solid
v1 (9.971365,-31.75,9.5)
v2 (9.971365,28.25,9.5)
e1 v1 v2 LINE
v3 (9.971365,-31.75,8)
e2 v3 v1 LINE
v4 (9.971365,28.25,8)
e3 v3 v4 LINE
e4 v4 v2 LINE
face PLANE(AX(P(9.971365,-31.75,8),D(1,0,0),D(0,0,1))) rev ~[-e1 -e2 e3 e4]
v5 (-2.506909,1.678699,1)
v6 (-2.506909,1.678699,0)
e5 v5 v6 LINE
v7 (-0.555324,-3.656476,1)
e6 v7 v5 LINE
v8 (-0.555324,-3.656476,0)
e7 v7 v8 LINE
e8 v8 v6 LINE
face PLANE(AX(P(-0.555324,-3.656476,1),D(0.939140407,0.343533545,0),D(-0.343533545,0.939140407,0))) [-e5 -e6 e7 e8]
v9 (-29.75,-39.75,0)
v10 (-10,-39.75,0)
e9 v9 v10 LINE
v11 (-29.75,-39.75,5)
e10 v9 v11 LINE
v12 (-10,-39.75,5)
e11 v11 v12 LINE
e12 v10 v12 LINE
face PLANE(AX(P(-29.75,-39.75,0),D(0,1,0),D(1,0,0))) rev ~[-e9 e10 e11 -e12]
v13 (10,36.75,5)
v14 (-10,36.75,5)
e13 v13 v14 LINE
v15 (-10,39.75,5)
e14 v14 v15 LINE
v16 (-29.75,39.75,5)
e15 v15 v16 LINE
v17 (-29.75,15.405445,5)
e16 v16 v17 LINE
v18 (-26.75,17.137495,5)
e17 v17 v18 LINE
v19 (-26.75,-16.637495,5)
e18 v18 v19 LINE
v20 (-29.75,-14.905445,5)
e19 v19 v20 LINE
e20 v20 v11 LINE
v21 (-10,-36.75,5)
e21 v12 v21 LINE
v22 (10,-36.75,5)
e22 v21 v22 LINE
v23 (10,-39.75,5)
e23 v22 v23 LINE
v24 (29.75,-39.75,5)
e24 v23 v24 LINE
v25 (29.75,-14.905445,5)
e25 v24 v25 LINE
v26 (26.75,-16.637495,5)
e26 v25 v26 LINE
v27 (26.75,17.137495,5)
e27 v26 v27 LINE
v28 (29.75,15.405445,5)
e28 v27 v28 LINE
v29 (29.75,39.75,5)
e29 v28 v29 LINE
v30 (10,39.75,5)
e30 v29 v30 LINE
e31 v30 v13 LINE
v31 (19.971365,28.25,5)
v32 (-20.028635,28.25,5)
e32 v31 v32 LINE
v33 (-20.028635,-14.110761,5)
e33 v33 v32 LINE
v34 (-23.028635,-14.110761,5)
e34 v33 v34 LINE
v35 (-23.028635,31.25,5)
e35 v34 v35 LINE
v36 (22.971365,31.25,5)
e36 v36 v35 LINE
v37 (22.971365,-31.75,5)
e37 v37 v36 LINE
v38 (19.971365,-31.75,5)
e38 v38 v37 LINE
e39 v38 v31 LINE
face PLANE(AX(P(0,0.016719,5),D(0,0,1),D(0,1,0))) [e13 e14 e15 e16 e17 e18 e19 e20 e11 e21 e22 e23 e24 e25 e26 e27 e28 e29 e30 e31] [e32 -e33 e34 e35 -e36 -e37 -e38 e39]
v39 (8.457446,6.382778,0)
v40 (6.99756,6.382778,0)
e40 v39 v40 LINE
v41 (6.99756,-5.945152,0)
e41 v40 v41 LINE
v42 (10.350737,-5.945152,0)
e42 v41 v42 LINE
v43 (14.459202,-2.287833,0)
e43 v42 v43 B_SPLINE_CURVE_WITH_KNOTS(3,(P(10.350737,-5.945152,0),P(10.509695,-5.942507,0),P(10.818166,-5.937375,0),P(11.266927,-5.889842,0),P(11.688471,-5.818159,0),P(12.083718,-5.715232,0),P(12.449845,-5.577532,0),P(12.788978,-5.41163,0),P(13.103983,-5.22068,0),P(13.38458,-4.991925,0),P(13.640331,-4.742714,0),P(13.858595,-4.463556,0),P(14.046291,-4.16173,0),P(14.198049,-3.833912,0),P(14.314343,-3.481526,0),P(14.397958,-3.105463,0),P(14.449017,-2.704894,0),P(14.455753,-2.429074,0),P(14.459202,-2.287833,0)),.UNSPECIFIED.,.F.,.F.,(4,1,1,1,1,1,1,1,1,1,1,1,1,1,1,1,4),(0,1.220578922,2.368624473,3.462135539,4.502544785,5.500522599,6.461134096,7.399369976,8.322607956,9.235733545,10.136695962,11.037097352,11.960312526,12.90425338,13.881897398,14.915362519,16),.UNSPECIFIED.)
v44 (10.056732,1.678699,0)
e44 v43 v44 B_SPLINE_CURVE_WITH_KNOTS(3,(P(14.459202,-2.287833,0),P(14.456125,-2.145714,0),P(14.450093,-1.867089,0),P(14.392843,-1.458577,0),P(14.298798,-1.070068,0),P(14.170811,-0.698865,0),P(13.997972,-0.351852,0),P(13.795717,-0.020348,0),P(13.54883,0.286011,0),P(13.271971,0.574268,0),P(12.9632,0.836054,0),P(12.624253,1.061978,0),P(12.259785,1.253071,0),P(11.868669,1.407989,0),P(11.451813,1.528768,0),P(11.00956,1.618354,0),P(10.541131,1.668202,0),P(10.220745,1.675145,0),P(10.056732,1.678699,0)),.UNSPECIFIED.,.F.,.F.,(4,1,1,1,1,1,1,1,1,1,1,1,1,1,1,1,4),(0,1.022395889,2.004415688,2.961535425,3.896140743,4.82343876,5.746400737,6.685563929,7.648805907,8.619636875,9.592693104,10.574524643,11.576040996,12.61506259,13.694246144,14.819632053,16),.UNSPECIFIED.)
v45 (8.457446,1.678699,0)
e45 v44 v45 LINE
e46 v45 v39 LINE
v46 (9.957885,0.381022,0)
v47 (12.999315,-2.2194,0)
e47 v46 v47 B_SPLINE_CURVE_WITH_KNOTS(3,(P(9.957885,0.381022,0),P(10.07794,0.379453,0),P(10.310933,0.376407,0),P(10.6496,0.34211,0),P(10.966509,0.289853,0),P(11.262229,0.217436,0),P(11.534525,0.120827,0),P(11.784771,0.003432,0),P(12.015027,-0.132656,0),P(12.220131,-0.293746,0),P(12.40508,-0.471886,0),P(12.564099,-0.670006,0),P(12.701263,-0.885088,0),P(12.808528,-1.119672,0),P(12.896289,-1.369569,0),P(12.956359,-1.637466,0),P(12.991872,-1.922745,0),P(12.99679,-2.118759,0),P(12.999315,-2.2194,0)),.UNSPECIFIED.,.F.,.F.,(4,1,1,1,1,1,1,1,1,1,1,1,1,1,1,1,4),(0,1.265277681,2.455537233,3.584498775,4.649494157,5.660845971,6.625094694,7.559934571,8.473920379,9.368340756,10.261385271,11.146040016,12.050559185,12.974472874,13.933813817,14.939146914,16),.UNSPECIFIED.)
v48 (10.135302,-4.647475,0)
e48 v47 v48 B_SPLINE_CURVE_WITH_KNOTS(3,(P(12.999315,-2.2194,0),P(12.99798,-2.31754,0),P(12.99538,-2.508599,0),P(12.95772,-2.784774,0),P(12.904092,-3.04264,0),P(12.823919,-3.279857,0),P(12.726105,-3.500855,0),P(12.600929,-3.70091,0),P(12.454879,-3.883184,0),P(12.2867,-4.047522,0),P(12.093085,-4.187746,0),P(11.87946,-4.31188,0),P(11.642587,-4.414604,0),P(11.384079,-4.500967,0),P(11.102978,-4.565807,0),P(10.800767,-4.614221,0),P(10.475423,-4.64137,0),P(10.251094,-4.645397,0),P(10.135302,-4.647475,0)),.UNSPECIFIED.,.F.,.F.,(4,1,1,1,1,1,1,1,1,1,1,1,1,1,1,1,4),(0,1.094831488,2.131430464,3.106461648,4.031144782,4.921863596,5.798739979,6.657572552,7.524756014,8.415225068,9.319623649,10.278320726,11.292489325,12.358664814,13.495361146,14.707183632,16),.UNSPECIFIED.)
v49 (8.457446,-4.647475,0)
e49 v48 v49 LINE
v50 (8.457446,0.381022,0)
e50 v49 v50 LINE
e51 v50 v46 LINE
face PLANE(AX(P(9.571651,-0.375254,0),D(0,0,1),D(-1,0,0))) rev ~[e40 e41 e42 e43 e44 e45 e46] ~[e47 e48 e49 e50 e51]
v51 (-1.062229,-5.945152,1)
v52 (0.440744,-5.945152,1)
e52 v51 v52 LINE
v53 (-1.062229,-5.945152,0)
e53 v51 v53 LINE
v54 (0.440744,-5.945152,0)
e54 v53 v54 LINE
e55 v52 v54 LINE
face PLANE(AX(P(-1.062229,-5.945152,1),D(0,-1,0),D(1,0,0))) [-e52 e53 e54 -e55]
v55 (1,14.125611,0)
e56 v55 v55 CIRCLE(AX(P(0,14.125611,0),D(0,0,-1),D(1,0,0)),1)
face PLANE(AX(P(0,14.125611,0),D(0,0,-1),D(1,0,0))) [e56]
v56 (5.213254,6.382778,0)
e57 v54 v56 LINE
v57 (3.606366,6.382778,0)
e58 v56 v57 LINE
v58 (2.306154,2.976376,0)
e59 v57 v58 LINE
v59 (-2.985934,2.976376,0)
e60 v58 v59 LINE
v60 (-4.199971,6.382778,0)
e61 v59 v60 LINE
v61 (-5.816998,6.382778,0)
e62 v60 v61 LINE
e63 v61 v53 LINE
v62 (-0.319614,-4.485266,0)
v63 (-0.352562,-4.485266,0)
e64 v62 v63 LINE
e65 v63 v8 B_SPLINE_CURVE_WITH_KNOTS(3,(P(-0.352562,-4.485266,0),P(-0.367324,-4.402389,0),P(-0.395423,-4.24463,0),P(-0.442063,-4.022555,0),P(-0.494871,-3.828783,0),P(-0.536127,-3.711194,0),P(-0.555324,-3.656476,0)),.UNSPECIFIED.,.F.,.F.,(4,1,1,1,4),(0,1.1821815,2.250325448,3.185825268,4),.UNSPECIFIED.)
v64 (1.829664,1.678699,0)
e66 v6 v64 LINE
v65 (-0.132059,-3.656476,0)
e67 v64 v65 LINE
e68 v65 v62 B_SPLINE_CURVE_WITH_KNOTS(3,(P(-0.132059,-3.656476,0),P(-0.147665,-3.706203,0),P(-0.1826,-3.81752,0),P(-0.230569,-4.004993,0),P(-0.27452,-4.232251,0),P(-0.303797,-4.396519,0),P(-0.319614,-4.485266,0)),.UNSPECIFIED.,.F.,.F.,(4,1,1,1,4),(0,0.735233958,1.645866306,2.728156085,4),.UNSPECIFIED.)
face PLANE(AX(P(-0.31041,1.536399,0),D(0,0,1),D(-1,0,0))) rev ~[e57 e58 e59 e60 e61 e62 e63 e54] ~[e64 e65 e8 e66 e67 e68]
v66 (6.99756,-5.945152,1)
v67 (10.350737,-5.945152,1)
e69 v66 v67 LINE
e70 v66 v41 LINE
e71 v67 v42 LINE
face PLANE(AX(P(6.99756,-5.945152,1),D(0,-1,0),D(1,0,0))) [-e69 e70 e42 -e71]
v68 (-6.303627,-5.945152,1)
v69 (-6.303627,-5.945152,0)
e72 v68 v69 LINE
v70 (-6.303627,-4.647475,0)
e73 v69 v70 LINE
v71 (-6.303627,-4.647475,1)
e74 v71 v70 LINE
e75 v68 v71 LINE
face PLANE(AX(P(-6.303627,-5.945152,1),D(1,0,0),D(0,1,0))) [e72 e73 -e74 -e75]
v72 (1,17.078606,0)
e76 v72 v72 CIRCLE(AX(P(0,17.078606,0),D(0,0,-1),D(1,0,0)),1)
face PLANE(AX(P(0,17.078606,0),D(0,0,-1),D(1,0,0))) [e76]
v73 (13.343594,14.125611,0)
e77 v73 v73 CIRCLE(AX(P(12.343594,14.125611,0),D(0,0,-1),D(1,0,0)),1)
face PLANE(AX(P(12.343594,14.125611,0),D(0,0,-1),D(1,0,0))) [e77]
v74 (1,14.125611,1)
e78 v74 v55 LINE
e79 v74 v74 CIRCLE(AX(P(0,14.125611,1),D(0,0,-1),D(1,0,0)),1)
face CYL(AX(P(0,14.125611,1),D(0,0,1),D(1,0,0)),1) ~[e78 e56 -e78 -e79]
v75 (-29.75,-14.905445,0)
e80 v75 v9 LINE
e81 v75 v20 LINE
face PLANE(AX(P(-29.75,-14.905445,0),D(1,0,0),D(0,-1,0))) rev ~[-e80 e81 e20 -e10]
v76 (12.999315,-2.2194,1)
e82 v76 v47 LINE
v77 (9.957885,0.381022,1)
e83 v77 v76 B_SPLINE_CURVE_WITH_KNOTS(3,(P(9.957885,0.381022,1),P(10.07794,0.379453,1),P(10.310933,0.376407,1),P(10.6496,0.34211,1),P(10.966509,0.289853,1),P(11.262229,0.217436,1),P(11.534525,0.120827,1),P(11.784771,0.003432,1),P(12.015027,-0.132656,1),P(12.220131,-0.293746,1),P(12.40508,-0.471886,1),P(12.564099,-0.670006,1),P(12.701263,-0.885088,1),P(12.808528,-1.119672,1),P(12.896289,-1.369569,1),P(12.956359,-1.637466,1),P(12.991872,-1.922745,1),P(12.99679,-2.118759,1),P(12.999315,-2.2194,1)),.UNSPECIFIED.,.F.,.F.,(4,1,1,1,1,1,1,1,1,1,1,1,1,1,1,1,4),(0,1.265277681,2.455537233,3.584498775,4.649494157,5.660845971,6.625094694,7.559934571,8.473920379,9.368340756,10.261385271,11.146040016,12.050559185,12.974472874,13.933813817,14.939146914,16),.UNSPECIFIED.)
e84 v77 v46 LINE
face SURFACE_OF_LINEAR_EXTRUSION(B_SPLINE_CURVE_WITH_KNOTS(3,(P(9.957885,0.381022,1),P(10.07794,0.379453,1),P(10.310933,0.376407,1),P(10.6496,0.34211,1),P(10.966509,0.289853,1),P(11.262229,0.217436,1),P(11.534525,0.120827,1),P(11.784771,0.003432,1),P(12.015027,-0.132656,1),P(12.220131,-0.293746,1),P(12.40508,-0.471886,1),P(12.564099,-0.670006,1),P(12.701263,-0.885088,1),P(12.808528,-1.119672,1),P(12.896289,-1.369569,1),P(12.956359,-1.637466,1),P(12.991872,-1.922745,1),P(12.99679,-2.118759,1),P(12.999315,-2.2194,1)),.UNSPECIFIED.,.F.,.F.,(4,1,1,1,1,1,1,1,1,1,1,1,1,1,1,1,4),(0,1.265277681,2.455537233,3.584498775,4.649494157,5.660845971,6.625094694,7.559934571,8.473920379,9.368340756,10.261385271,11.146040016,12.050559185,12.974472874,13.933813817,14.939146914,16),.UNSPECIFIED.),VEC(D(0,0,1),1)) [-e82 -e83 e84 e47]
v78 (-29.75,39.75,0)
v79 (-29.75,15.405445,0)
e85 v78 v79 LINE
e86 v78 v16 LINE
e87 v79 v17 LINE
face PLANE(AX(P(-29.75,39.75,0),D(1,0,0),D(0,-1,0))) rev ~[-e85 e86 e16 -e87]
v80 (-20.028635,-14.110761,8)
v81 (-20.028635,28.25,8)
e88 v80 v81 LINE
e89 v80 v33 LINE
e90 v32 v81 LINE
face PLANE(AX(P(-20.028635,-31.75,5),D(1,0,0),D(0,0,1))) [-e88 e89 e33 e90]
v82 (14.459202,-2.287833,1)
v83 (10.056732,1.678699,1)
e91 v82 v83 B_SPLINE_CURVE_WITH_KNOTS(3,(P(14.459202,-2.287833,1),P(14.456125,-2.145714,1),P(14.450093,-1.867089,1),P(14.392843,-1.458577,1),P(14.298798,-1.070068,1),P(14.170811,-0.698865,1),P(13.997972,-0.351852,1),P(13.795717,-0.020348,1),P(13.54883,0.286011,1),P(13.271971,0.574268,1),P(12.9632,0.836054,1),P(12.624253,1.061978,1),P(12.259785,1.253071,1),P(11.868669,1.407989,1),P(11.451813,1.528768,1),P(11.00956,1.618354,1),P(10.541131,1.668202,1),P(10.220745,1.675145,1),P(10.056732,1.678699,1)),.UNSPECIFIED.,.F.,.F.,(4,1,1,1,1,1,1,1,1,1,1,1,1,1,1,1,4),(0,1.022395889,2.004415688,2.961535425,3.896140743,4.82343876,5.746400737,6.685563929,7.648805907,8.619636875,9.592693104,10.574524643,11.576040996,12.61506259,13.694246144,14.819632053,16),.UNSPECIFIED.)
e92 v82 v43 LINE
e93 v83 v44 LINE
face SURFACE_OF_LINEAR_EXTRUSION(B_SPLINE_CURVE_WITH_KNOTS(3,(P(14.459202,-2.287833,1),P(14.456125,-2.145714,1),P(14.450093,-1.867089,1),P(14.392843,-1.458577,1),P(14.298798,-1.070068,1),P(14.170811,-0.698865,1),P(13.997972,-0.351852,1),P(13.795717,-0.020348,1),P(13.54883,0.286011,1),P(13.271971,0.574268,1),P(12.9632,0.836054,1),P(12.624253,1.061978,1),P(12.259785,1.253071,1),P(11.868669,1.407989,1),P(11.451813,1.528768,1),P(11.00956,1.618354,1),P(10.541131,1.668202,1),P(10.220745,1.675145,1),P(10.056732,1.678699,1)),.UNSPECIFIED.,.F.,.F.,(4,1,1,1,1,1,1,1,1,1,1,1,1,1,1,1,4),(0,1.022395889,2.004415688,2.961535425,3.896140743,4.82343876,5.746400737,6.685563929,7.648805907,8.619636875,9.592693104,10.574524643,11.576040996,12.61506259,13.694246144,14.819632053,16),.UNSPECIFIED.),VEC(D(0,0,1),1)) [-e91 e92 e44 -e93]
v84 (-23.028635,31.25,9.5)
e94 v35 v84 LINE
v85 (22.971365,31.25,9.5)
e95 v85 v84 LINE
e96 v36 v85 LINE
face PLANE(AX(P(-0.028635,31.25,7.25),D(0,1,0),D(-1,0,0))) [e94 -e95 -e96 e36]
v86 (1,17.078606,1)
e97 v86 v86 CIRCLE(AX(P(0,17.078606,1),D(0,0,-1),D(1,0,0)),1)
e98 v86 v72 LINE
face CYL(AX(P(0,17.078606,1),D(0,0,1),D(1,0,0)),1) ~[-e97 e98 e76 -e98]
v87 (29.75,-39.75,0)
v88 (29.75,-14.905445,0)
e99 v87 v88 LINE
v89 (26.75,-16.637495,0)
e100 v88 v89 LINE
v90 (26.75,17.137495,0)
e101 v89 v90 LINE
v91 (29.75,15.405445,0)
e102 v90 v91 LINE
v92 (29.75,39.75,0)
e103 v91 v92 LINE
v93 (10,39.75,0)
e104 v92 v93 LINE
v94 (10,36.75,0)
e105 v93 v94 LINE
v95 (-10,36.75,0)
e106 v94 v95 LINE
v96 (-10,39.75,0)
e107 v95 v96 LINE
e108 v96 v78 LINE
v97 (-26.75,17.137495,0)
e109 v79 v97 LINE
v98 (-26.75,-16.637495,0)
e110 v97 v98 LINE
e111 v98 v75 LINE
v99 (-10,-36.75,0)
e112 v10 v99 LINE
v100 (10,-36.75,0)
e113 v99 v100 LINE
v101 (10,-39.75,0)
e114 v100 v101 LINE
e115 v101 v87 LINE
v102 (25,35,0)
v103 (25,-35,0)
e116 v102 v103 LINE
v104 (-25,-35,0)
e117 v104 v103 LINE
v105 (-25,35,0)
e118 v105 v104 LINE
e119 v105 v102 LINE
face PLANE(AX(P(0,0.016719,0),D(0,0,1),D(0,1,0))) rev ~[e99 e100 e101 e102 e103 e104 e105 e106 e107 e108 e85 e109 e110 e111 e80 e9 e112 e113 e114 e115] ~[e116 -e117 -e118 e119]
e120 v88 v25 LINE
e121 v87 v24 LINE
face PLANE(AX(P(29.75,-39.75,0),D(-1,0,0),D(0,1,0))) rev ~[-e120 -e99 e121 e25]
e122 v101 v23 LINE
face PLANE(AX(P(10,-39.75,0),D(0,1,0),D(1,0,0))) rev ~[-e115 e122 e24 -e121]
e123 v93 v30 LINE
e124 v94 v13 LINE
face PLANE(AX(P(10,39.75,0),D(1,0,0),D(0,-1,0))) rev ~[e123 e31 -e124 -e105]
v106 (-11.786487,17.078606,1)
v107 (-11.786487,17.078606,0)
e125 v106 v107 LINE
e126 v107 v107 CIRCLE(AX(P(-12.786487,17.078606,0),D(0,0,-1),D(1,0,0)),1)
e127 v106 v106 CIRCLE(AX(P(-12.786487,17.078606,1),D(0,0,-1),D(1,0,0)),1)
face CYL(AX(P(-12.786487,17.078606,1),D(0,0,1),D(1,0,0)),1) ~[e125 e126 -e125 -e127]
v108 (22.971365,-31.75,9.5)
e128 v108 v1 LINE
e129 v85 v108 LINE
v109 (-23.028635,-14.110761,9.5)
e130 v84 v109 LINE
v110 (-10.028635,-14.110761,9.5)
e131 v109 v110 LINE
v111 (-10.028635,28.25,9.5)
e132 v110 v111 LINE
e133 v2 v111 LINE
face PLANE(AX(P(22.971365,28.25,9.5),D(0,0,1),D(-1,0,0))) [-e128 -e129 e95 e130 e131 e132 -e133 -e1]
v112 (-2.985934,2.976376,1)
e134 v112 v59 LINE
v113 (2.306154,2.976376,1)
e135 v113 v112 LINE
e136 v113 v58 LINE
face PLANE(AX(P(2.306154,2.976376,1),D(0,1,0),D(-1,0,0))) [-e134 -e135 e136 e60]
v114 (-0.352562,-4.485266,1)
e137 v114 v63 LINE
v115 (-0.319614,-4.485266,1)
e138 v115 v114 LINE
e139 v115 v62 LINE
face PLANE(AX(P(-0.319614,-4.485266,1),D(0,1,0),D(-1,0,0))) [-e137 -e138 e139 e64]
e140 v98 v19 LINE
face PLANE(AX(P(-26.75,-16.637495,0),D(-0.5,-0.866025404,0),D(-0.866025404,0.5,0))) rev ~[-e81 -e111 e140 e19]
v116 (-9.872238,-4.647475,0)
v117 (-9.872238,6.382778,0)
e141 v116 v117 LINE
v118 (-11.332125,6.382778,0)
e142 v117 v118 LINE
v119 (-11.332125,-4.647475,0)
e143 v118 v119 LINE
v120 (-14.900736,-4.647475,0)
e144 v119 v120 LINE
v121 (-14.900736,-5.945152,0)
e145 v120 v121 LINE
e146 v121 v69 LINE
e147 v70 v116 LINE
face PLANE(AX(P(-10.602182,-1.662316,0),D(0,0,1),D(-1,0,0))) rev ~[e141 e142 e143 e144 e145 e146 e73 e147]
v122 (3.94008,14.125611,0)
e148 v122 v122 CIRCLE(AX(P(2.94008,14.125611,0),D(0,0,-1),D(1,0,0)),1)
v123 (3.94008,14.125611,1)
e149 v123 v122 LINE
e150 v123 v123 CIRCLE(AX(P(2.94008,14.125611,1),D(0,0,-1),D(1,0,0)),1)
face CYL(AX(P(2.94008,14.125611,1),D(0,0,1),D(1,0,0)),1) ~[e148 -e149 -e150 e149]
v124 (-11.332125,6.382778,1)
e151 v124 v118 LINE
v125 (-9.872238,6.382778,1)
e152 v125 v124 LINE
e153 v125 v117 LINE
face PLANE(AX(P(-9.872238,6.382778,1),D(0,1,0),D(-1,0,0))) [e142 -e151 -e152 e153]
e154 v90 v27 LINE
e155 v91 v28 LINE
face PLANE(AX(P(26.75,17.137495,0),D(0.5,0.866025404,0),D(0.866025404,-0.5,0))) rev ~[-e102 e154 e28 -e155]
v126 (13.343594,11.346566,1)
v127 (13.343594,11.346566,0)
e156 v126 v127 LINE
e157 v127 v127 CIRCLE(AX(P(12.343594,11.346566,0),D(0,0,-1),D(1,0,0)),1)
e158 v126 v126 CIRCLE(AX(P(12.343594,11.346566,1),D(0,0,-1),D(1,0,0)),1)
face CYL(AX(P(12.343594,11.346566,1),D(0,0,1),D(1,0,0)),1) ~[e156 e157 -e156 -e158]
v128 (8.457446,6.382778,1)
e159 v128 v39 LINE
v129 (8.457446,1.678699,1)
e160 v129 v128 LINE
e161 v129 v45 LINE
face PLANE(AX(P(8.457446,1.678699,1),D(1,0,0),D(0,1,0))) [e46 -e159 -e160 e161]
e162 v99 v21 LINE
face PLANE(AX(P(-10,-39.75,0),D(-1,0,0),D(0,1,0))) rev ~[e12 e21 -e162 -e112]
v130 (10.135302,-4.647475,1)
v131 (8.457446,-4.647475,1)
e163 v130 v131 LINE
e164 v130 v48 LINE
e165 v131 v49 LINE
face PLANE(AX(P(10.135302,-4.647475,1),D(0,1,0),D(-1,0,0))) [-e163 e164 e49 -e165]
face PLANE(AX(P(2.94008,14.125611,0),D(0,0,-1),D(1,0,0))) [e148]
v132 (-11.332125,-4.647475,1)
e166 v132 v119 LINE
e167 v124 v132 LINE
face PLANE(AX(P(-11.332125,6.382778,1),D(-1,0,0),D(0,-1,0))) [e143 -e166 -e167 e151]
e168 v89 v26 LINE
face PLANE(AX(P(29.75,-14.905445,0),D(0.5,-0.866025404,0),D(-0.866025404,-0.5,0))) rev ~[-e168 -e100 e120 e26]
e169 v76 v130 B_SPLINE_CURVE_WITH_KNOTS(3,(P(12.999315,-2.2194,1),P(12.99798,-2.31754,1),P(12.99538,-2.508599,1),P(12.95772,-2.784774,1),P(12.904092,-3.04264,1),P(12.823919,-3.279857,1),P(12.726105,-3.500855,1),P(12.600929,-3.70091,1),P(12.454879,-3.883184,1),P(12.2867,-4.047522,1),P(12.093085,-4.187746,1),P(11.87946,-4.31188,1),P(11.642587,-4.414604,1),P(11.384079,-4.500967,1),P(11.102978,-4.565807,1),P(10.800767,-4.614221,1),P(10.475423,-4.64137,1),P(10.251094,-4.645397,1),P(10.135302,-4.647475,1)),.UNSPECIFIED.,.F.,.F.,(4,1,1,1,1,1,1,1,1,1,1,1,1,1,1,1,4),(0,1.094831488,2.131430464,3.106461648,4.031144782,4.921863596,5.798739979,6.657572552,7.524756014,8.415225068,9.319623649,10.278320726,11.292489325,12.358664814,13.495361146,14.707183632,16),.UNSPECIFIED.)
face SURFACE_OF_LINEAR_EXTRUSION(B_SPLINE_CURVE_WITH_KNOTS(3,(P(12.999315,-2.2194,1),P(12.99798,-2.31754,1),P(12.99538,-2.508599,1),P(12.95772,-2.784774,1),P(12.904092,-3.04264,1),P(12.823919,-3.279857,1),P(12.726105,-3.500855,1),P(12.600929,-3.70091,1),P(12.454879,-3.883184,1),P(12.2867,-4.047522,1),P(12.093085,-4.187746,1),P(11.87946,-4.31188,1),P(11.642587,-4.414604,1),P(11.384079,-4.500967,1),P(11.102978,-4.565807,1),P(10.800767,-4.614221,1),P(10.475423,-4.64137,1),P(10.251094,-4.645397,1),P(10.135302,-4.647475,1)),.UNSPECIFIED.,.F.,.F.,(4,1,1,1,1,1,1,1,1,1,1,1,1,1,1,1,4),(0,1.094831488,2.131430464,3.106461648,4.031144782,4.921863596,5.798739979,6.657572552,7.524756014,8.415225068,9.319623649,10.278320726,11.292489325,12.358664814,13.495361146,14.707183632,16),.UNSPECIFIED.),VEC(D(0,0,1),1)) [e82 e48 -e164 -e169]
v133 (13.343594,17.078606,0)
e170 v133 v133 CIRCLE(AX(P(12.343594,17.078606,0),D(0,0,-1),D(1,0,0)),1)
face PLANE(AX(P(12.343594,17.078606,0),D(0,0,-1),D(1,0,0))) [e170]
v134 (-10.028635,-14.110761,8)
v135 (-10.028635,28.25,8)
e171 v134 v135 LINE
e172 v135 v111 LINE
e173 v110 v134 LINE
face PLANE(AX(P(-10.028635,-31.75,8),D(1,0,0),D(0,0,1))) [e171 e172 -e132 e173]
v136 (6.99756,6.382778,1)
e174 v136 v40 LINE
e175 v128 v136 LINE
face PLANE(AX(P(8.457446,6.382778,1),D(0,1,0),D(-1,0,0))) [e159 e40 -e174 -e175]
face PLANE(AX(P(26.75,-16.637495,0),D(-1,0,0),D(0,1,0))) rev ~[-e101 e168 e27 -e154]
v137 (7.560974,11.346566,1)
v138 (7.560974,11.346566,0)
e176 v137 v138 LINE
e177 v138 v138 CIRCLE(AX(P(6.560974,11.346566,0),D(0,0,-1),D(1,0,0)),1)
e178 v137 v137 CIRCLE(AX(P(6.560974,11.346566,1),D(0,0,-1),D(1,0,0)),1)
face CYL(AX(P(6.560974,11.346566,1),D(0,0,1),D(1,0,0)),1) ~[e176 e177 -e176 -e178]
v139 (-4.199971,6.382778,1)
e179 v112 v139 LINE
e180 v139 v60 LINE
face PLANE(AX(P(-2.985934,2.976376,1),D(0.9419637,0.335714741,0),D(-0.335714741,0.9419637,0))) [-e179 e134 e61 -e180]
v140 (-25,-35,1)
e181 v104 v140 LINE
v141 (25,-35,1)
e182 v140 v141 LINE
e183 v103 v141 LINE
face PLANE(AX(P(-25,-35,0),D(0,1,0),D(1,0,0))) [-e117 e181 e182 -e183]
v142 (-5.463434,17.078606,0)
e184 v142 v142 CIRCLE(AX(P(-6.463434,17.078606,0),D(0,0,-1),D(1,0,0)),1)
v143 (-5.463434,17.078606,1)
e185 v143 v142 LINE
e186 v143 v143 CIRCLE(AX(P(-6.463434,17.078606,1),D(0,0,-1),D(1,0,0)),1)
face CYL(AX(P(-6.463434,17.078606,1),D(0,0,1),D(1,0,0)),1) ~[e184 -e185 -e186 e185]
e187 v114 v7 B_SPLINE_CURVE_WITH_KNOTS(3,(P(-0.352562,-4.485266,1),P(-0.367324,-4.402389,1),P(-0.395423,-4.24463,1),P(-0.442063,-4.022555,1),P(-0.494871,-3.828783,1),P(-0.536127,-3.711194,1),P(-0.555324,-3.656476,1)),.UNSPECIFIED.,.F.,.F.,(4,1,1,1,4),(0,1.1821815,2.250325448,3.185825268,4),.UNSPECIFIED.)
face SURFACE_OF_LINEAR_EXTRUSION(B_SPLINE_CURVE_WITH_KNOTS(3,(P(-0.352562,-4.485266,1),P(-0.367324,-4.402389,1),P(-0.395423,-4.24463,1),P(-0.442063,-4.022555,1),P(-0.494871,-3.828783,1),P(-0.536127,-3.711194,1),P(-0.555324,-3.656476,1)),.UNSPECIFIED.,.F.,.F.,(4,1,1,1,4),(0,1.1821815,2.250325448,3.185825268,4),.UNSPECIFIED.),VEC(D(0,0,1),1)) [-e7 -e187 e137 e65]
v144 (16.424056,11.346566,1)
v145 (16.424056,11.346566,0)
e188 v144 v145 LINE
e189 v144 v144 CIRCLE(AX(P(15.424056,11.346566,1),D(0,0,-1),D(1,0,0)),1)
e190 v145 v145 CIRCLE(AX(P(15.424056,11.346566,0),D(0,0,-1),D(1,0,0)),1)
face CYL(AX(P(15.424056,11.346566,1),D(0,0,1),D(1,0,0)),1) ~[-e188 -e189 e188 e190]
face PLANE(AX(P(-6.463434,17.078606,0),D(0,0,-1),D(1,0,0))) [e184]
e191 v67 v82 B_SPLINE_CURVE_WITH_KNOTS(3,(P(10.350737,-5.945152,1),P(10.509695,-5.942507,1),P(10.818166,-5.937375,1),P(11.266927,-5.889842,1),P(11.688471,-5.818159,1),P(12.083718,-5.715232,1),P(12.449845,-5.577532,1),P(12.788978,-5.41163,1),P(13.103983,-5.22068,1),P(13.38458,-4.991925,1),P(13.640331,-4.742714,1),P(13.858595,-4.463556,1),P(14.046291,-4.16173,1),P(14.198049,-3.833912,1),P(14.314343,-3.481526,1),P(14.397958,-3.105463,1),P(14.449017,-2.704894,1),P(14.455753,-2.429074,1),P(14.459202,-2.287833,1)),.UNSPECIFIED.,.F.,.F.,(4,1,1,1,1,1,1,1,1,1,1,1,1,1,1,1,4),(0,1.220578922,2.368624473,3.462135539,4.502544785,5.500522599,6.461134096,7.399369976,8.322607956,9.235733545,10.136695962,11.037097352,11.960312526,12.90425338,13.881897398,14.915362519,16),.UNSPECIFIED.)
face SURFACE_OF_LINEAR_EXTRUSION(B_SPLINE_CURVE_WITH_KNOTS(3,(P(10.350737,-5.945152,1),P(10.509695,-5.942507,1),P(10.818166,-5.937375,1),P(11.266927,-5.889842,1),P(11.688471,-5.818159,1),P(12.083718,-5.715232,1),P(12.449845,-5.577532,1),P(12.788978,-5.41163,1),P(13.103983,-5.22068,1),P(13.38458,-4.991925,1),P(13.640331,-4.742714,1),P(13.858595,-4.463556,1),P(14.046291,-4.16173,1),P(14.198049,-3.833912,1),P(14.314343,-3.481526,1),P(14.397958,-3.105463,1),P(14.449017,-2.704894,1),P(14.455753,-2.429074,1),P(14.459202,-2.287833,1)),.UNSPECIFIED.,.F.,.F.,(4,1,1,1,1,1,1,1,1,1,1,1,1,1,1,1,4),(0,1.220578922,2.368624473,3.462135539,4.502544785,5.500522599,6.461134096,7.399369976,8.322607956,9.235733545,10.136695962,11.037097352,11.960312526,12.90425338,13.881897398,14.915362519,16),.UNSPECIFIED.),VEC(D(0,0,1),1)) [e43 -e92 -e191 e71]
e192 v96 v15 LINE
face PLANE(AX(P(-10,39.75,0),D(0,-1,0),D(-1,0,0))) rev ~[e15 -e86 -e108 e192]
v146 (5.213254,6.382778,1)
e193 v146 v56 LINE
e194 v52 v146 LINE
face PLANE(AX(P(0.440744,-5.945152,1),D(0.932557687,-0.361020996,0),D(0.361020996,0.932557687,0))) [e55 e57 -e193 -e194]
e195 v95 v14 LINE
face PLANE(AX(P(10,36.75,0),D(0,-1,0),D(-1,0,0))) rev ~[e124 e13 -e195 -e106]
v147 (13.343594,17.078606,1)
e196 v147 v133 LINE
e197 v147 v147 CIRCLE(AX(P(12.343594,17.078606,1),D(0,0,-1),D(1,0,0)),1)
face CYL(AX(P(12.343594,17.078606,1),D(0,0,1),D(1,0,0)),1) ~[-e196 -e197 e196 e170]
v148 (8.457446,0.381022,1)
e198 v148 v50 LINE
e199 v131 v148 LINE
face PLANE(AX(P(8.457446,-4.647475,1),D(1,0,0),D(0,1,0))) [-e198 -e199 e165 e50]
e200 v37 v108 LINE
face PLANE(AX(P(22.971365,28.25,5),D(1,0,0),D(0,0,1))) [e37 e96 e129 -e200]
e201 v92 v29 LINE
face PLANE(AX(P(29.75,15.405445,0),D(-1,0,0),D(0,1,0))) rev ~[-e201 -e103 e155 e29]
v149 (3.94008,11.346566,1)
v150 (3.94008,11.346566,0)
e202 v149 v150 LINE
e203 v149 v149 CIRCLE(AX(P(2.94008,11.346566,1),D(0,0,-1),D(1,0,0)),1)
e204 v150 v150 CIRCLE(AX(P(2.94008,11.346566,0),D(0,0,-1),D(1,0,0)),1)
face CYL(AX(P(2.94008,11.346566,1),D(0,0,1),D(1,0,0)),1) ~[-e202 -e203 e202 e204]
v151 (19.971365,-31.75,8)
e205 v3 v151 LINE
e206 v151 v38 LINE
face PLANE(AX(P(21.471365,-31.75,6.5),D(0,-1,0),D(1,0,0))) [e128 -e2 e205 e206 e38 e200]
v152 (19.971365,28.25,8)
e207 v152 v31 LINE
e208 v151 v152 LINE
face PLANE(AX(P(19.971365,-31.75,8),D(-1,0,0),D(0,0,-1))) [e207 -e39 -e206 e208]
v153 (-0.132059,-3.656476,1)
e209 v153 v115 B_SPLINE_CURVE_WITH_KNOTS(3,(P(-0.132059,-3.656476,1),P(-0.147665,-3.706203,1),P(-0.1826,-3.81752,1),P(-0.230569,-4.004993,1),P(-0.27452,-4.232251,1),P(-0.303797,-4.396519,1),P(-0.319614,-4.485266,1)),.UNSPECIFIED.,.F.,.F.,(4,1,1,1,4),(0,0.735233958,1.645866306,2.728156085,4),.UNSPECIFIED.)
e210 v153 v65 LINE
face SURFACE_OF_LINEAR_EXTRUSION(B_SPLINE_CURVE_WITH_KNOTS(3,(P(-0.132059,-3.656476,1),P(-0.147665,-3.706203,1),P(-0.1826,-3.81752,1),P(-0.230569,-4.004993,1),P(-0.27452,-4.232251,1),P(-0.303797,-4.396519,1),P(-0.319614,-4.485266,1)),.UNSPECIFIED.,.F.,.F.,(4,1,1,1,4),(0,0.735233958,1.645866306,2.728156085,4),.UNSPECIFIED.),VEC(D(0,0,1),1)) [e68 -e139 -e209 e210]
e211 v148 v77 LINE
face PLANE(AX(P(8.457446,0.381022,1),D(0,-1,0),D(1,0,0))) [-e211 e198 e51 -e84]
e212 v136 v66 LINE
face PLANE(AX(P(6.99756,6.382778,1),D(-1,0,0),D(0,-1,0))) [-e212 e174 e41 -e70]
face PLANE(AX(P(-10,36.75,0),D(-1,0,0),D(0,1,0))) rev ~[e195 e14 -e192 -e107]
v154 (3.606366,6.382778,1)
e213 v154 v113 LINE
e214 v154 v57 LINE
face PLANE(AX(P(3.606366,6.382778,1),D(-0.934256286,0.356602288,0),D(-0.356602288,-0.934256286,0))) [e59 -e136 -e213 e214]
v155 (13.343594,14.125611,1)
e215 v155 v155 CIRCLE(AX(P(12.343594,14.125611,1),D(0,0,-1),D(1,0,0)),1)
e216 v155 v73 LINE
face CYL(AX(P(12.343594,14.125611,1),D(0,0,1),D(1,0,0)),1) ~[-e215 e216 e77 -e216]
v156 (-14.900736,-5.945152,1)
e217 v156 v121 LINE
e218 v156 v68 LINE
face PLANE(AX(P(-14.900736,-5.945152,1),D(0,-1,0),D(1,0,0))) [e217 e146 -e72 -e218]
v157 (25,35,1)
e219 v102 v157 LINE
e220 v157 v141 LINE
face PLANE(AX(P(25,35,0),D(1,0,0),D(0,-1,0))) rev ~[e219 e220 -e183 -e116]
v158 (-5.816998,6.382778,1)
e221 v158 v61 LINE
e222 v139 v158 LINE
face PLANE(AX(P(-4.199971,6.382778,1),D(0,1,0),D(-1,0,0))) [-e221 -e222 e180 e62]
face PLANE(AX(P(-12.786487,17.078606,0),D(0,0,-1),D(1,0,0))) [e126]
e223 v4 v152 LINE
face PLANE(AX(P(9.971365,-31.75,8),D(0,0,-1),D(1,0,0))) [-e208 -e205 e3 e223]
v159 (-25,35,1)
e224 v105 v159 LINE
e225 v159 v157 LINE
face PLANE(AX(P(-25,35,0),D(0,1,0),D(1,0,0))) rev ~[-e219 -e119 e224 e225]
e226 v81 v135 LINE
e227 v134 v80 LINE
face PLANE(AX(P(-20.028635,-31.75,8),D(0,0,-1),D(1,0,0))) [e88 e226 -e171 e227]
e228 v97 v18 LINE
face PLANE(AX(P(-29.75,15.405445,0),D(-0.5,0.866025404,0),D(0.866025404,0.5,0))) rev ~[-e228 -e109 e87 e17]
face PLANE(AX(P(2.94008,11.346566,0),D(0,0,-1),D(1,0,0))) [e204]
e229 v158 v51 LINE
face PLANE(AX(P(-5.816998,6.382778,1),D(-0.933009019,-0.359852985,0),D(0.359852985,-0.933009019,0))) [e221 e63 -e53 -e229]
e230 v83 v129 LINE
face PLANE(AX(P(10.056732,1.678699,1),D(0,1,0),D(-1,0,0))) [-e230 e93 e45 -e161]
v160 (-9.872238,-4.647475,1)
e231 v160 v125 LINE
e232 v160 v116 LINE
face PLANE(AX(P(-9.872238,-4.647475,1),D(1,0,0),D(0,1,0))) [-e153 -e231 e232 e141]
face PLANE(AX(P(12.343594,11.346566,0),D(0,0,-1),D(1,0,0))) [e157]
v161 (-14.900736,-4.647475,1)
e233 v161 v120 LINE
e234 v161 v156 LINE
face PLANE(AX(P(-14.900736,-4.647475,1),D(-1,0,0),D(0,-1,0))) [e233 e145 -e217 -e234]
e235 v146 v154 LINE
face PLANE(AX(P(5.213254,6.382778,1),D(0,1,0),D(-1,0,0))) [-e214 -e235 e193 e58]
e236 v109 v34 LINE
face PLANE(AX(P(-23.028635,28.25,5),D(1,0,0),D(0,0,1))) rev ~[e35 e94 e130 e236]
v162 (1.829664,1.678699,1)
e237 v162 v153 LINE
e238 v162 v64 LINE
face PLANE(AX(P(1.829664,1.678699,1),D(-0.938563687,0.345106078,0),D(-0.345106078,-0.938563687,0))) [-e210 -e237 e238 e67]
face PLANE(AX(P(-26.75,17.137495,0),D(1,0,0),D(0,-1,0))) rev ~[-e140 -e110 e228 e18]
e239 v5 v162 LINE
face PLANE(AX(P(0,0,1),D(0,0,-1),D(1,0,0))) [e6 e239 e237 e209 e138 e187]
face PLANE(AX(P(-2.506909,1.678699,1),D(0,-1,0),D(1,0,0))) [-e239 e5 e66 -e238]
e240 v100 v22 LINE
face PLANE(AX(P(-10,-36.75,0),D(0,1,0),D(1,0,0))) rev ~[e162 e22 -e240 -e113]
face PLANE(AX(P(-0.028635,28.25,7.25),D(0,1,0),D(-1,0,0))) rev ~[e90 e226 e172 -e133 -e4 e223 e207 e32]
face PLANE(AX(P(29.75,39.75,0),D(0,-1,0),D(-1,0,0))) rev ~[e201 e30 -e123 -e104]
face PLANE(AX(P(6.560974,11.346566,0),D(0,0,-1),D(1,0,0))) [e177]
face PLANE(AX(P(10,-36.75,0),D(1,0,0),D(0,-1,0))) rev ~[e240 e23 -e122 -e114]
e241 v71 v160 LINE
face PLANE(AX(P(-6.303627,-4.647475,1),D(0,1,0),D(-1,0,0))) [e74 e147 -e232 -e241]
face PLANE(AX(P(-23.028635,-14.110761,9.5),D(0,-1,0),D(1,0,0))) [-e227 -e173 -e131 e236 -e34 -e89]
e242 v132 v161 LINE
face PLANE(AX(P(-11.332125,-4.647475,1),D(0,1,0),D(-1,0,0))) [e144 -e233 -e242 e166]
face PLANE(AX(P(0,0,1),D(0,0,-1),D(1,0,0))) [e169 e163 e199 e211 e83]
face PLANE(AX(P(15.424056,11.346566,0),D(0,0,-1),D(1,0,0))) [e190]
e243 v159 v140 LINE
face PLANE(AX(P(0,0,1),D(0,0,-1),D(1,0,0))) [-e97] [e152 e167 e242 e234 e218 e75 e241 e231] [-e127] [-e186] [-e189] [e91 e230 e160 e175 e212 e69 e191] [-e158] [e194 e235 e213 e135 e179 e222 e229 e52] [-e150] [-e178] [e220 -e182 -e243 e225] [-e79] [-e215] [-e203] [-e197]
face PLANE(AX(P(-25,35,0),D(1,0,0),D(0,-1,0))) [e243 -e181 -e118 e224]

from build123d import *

# Parameters (mm, degrees)
BOSS_EXTRUDE1_DEPTH = 5
BOSS_EXTRUDE2_START = -5
SKETCH6_W           = 3
SKETCH6_H           = 3
SKETCH6_H_2         = 1.5
SKETCH6_W_2         = 10
BOSS_EXTRUDE2_DEPTH = 60
SKETCH7_W           = 46
SKETCH7_H           = 4.5
BOSS_EXTRUDE3_DEPTH = 3
SKETCH8_W           = 50
SKETCH8_H           = 70
CUT_EXTRUDE2_DEPTH  = 1
SKETCH9_R           = 1
BOSS_EXTRUDE4_DEPTH = 1
CUT_EXTRUDE3_REACH  = 52.551
SKETCH10_W          = 13.006782721
SKETCH10_H          = 17.639239295


with BuildPart() as part:
    # Sketch4 → Boss-Extrude1 (new body)
    with BuildSketch(Plane(origin=(0, 0, 0), x_dir=(0, 1, 0), z_dir=(0, 0, 1))):
        Polygon((-39.75, -29.75), (-14.905444566, -29.75), (-16.637495374, -26.75), (0.24999995, -26.75), (17.137495374, -26.75), (15.405444566, -29.75), (39.75, -29.75), (39.75, -10), (36.75, -10), (36.75, 10), (39.75, 10), (39.75, 29.75), (15.405444566, 29.75), (17.137495374, 26.75), (0.250000065, 26.75), (-16.637495374, 26.75), (-14.905444566, 29.75), (-39.75, 29.75), (-39.75, 10), (-36.75, 10), (-36.75, -10), (-39.75, -10), align=None)
    extrude(amount=BOSS_EXTRUDE1_DEPTH)

    # Sketch6 → Boss-Extrude2 (add)
    with BuildSketch(Plane.XZ.offset(36.75).offset(BOSS_EXTRUDE2_START)):
        with Locations((-21.528635138, 6.5)):
            Rectangle(SKETCH6_W, SKETCH6_H)
        with Locations((-21.528635138, 8.75)):
            Rectangle(SKETCH6_W, SKETCH6_H_2)
        with Locations((-15.028635138, 8.75)):
            Rectangle(SKETCH6_W_2, SKETCH6_H_2)
        with Locations((21.471364862, 6.5)):
            Rectangle(SKETCH6_W, SKETCH6_H)
        with Locations((21.471364862, 8.75)):
            Rectangle(SKETCH6_W, SKETCH6_H_2)
        with Locations((14.971364862, 8.75)):
            Rectangle(SKETCH6_W_2, SKETCH6_H_2)
    extrude(amount=-BOSS_EXTRUDE2_DEPTH)

    # Sketch7 → Boss-Extrude3 (add)
    with BuildSketch(Plane(origin=(0, 28.25, 0), x_dir=(-1, 0, 0), z_dir=(0, 1, 0))):
        with Locations((0.028635138, 7.25)):
            Rectangle(SKETCH7_W, SKETCH7_H)
    extrude(amount=BOSS_EXTRUDE3_DEPTH)

    # Sketch8 → Cut-Extrude2 (cut)
    with BuildSketch(Plane(origin=(0, 0, 0), x_dir=(1, 0, 0), z_dir=(0, 0, -1))):
        Rectangle(SKETCH8_W, SKETCH8_H)
    extrude(amount=-CUT_EXTRUDE2_DEPTH, mode=Mode.SUBTRACT)

    # Sketch9 → Boss-Extrude4 (add)
    # profile 1 of 14: a face of its own
    with BuildSketch(Plane(origin=(0, 0, 1), x_dir=(1, 0, 0), z_dir=(0, 0, -1))):
        with Locations((-12.786487011, -17.078606255)):
            Circle(SKETCH9_R)
    # profile 2 of 14: a face of its own
    with BuildSketch(Plane(origin=(0, 0, 1), x_dir=(1, 0, 0), z_dir=(0, 0, -1))):
        with Locations((-6.463434267, -17.078606255)):
            Circle(SKETCH9_R)
    # profile 3 of 14: a face of its own
    with BuildSketch(Plane(origin=(0, 0, 1), x_dir=(1, 0, 0), z_dir=(0, 0, -1))):
        with Locations((0, -17.078606255)):
            Circle(SKETCH9_R)
    # profile 4 of 14: a face of its own
    with BuildSketch(Plane(origin=(0, 0, 1), x_dir=(1, 0, 0), z_dir=(0, 0, -1))):
        with Locations((0, -14.125611289)):
            Circle(SKETCH9_R)
    # profile 5 of 14: a face of its own
    with BuildSketch(Plane(origin=(0, 0, 1), x_dir=(1, 0, 0), z_dir=(0, 0, -1))):
        with Locations((2.94008007, -14.125611289)):
            Circle(SKETCH9_R)
    # profile 6 of 14: a face of its own
    with BuildSketch(Plane(origin=(0, 0, 1), x_dir=(1, 0, 0), z_dir=(0, 0, -1))):
        with Locations((2.94008007, -11.346566296)):
            Circle(SKETCH9_R)
    # profile 7 of 14: a face of its own
    with BuildSketch(Plane(origin=(0, 0, 1), x_dir=(1, 0, 0), z_dir=(0, 0, -1))):
        with Locations((6.560973521, -11.346566296)):
            Circle(SKETCH9_R)
    # profile 8 of 14: a face of its own
    with BuildSketch(Plane(origin=(0, 0, 1), x_dir=(1, 0, 0), z_dir=(0, 0, -1))):
        with Locations((12.343594407, -11.346566296)):
            Circle(SKETCH9_R)
    # profile 9 of 14: a face of its own
    with BuildSketch(Plane(origin=(0, 0, 1), x_dir=(1, 0, 0), z_dir=(0, 0, -1))):
        with Locations((12.343594407, -14.125611289)):
            Circle(SKETCH9_R)
    # profile 10 of 14: a face of its own
    with BuildSketch(Plane(origin=(0, 0, 1), x_dir=(1, 0, 0), z_dir=(0, 0, -1))):
        with Locations((12.343594407, -17.078606255)):
            Circle(SKETCH9_R)
    # profile 11 of 14: a face of its own
    with BuildSketch(Plane(origin=(0, 0, 1), x_dir=(1, 0, 0), z_dir=(0, 0, -1))):
        with Locations((15.424056, -11.346566296)):
            Circle(SKETCH9_R)
    # profile 12 of 14: a face of its own
    with BuildSketch(Plane(origin=(0, 0, 1), x_dir=(1, 0, 0), z_dir=(0, 0, -1))):
        Polygon((-6.303627236, 4.647475362), (-9.872238462, 4.647475362), (-9.872238462, -6.382777516), (-11.332124872, -6.382777516), (-11.332124872, 4.647475362), (-14.900736097, 4.647475362), (-14.900736097, 5.945152171), (-6.303627236, 5.945152171), align=None)
    # profile 13 of 14: a face of its own
    with BuildSketch(Plane(origin=(0, 0, 1), x_dir=(1, 0, 0), z_dir=(0, 0, -1))):
        Polygon((5.213254446, -6.382777516), (3.606365584, -6.382777516), (2.30615425, -2.976375892), (-2.985933988, -2.976375892), (-4.199971471, -6.382777516), (-5.816998433, -6.382777516), (-1.062229499, 5.945152171), (0.440743837, 5.945152171), align=None)
        with BuildLine():
            Line((1.829663547, -1.678699083), (-0.132058817, 3.65647608))
            add(Edge.make_bspline(
                [(-0.132058817, 3.65647608), (-0.147664764, 3.706203134), (-0.182599633, 3.817520196), (-0.230569306, 4.004992715), (-0.27451989, 4.232251444), (-0.303796625, 4.396518738), (-0.319613669, 4.485265761)],
                knots=[0, 0, 0, 0, 0.735233958, 1.645866306, 2.728156085, 4, 4, 4, 4], degree=3))
            Line((-0.319613669, 4.485265761), (-0.352562494, 4.485265761))
            add(Edge.make_bspline(
                [(-0.352562494, 4.485265761), (-0.367323874, 4.402388942), (-0.395422699, 4.244629907), (-0.442062801, 4.022554742), (-0.494871195, 3.828782863), (-0.536126975, 3.711193738), (-0.555324495, 3.65647608)],
                knots=[0, 0, 0, 0, 1.1821815, 2.250325448, 3.185825268, 4, 4, 4, 4], degree=3))
            Line((-0.555324495, 3.65647608), (-2.506908759, -1.678699083))
            Line((-2.506908759, -1.678699083), (1.829663547, -1.678699083))
        make_face(mode=Mode.SUBTRACT)
    # profile 14 of 14: a face of its own
    with BuildSketch(Plane(origin=(0, 0, 1), x_dir=(1, 0, 0), z_dir=(0, 0, -1))):
        with BuildLine():
            Line((8.457446469, -1.678699083), (8.457446469, -6.382777516))
            Line((8.457446469, -6.382777516), (6.997560058, -6.382777516))
            Line((6.997560058, -6.382777516), (6.997560058, 5.945152171))
            Line((6.997560058, 5.945152171), (10.350736657, 5.945152171))
            add(Edge.make_bspline(
                [(10.350736657, 5.945152171), (10.509695311, 5.94250725), (10.818166439, 5.937374583), (11.266927294, 5.88984235), (11.688470568, 5.818158675), (12.083717966, 5.715231867), (12.449844904, 5.577532383), (12.788978426, 5.411630082), (13.10398336, 5.220680323), (13.384579674, 4.991925283), (13.640330715, 4.742713756), (13.858595137, 4.463555677), (14.046290599, 4.161729634), (14.198048848, 3.833912071), (14.314343043, 3.48152593), (14.397958134, 3.105462584), (14.449017319, 2.704893846), (14.455752673, 2.42907422), (14.459201711, 2.28783257)],
                knots=[0, 0, 0, 0, 1.220578922, 2.368624473, 3.462135539, 4.502544785, 5.500522599, 6.461134096, 7.399369976, 8.322607956, 9.235733545, 10.136695962, 11.037097352, 11.960312526, 12.90425338, 13.881897398, 14.915362519, 16, 16, 16, 16], degree=3))
            add(Edge.make_bspline(
                [(14.459201711, 2.28783257), (14.456125133, 2.145713753), (14.450093475, 1.867088625), (14.392842954, 1.458577322), (14.298798135, 1.070067677), (14.170811012, 0.698864827), (13.997972005, 0.351851734), (13.795716853, 0.020347803), (13.548830266, -0.286010644), (13.271970609, -0.574267746), (12.963200376, -0.836054299), (12.624253148, -1.061978102), (12.259784751, -1.253070736), (11.868668942, -1.407989064), (11.451812999, -1.528768286), (11.009560292, -1.618354116), (10.541130741, -1.668202008), (10.220744681, -1.675144873), (10.056731755, -1.678699083)],
                knots=[0, 0, 0, 0, 1.022395889, 2.004415688, 2.961535425, 3.896140743, 4.82343876, 5.746400737, 6.685563929, 7.648805907, 8.619636875, 9.592693104, 10.574524643, 11.576040996, 12.61506259, 13.694246144, 14.819632053, 16, 16, 16, 16], degree=3))
            Line((10.056731755, -1.678699083), (8.457446469, -1.678699083))
        make_face()
        with BuildLine():
            Line((8.457446469, 4.647475362), (8.457446469, -0.381022274))
            Line((8.457446469, -0.381022274), (9.957885279, -0.381022274))
            add(Edge.make_bspline(
                [(9.957885279, -0.381022274), (10.077940481, -0.379452684), (10.31093283, -0.376406565), (10.649599833, -0.342109598), (10.966509261, -0.289852539), (11.262229227, -0.217435817), (11.534525044, -0.120826947), (11.784771245, -0.00343225), (12.015027367, 0.132656375), (12.220130693, 0.293746461), (12.40507983, 0.471885839), (12.564099334, 0.670006443), (12.701263006, 0.885087886), (12.808528198, 1.119672064), (12.896289259, 1.369569482), (12.956358781, 1.637465518), (12.991871549, 1.922744559), (12.996789996, 2.118759427), (12.999315301, 2.219400395)],
                knots=[0, 0, 0, 0, 1.265277681, 2.455537233, 3.584498775, 4.649494157, 5.660845971, 6.625094694, 7.559934571, 8.473920379, 9.368340756, 10.261385271, 11.146040016, 12.050559185, 12.974472874, 13.933813817, 14.939146914, 16, 16, 16, 16], degree=3))
            add(Edge.make_bspline(
                [(12.999315301, 2.219400395), (12.997979793, 2.317539924), (12.995379811, 2.508599083), (12.957720492, 2.784773853), (12.904092134, 3.042639571), (12.823919422, 3.279856734), (12.726105371, 3.500854512), (12.600929429, 3.700909707), (12.454878872, 3.883183964), (12.286699993, 4.047522092), (12.093084536, 4.187745781), (11.87946034, 4.311880083), (11.642587123, 4.414603882), (11.384078714, 4.500966841), (11.102977848, 4.565807264), (10.800766648, 4.614221035), (10.475423413, 4.641369896), (10.251093913, 4.6453968), (10.13530203, 4.647475362)],
                knots=[0, 0, 0, 0, 1.094831488, 2.131430464, 3.106461648, 4.031144782, 4.921863596, 5.798739979, 6.657572552, 7.524756014, 8.415225068, 9.319623649, 10.278320726, 11.292489325, 12.358664814, 13.495361146, 14.707183632, 16, 16, 16, 16], degree=3))
            Line((10.13530203, 4.647475362), (8.457446469, 4.647475362))
        make_face(mode=Mode.SUBTRACT)
    extrude(amount=BOSS_EXTRUDE4_DEPTH)

    # Cut-Extrude3: up to this face of the body (flat: up to its plane)
    cut_extrude3_end = Plane(part.part.faces().sort_by_distance((0.003637838, -0.898870224, 5))[0])
    # Sketch10 → Cut-Extrude3 (cut, up to the picked face)
    with BuildSketch(Plane.XY.offset(9.5), mode=Mode.PRIVATE) as cut_extrude3_sk1:
        with Locations((-16.525243778, -22.930380353)):
            Rectangle(SKETCH10_W, SKETCH10_H)
    cut_extrude3_tool1 = split(extrude(cut_extrude3_sk1.sketch, amount=-CUT_EXTRUDE3_REACH, mode=Mode.PRIVATE), bisect_by=cut_extrude3_end, keep=Keep.BOTH, mode=Mode.PRIVATE)
    add(cut_extrude3_tool1.solids().sort_by(Axis((-16.525244, -22.93038, 9.5), (0, 0, -1)))[0], mode=Mode.SUBTRACT)


solid = part.part
